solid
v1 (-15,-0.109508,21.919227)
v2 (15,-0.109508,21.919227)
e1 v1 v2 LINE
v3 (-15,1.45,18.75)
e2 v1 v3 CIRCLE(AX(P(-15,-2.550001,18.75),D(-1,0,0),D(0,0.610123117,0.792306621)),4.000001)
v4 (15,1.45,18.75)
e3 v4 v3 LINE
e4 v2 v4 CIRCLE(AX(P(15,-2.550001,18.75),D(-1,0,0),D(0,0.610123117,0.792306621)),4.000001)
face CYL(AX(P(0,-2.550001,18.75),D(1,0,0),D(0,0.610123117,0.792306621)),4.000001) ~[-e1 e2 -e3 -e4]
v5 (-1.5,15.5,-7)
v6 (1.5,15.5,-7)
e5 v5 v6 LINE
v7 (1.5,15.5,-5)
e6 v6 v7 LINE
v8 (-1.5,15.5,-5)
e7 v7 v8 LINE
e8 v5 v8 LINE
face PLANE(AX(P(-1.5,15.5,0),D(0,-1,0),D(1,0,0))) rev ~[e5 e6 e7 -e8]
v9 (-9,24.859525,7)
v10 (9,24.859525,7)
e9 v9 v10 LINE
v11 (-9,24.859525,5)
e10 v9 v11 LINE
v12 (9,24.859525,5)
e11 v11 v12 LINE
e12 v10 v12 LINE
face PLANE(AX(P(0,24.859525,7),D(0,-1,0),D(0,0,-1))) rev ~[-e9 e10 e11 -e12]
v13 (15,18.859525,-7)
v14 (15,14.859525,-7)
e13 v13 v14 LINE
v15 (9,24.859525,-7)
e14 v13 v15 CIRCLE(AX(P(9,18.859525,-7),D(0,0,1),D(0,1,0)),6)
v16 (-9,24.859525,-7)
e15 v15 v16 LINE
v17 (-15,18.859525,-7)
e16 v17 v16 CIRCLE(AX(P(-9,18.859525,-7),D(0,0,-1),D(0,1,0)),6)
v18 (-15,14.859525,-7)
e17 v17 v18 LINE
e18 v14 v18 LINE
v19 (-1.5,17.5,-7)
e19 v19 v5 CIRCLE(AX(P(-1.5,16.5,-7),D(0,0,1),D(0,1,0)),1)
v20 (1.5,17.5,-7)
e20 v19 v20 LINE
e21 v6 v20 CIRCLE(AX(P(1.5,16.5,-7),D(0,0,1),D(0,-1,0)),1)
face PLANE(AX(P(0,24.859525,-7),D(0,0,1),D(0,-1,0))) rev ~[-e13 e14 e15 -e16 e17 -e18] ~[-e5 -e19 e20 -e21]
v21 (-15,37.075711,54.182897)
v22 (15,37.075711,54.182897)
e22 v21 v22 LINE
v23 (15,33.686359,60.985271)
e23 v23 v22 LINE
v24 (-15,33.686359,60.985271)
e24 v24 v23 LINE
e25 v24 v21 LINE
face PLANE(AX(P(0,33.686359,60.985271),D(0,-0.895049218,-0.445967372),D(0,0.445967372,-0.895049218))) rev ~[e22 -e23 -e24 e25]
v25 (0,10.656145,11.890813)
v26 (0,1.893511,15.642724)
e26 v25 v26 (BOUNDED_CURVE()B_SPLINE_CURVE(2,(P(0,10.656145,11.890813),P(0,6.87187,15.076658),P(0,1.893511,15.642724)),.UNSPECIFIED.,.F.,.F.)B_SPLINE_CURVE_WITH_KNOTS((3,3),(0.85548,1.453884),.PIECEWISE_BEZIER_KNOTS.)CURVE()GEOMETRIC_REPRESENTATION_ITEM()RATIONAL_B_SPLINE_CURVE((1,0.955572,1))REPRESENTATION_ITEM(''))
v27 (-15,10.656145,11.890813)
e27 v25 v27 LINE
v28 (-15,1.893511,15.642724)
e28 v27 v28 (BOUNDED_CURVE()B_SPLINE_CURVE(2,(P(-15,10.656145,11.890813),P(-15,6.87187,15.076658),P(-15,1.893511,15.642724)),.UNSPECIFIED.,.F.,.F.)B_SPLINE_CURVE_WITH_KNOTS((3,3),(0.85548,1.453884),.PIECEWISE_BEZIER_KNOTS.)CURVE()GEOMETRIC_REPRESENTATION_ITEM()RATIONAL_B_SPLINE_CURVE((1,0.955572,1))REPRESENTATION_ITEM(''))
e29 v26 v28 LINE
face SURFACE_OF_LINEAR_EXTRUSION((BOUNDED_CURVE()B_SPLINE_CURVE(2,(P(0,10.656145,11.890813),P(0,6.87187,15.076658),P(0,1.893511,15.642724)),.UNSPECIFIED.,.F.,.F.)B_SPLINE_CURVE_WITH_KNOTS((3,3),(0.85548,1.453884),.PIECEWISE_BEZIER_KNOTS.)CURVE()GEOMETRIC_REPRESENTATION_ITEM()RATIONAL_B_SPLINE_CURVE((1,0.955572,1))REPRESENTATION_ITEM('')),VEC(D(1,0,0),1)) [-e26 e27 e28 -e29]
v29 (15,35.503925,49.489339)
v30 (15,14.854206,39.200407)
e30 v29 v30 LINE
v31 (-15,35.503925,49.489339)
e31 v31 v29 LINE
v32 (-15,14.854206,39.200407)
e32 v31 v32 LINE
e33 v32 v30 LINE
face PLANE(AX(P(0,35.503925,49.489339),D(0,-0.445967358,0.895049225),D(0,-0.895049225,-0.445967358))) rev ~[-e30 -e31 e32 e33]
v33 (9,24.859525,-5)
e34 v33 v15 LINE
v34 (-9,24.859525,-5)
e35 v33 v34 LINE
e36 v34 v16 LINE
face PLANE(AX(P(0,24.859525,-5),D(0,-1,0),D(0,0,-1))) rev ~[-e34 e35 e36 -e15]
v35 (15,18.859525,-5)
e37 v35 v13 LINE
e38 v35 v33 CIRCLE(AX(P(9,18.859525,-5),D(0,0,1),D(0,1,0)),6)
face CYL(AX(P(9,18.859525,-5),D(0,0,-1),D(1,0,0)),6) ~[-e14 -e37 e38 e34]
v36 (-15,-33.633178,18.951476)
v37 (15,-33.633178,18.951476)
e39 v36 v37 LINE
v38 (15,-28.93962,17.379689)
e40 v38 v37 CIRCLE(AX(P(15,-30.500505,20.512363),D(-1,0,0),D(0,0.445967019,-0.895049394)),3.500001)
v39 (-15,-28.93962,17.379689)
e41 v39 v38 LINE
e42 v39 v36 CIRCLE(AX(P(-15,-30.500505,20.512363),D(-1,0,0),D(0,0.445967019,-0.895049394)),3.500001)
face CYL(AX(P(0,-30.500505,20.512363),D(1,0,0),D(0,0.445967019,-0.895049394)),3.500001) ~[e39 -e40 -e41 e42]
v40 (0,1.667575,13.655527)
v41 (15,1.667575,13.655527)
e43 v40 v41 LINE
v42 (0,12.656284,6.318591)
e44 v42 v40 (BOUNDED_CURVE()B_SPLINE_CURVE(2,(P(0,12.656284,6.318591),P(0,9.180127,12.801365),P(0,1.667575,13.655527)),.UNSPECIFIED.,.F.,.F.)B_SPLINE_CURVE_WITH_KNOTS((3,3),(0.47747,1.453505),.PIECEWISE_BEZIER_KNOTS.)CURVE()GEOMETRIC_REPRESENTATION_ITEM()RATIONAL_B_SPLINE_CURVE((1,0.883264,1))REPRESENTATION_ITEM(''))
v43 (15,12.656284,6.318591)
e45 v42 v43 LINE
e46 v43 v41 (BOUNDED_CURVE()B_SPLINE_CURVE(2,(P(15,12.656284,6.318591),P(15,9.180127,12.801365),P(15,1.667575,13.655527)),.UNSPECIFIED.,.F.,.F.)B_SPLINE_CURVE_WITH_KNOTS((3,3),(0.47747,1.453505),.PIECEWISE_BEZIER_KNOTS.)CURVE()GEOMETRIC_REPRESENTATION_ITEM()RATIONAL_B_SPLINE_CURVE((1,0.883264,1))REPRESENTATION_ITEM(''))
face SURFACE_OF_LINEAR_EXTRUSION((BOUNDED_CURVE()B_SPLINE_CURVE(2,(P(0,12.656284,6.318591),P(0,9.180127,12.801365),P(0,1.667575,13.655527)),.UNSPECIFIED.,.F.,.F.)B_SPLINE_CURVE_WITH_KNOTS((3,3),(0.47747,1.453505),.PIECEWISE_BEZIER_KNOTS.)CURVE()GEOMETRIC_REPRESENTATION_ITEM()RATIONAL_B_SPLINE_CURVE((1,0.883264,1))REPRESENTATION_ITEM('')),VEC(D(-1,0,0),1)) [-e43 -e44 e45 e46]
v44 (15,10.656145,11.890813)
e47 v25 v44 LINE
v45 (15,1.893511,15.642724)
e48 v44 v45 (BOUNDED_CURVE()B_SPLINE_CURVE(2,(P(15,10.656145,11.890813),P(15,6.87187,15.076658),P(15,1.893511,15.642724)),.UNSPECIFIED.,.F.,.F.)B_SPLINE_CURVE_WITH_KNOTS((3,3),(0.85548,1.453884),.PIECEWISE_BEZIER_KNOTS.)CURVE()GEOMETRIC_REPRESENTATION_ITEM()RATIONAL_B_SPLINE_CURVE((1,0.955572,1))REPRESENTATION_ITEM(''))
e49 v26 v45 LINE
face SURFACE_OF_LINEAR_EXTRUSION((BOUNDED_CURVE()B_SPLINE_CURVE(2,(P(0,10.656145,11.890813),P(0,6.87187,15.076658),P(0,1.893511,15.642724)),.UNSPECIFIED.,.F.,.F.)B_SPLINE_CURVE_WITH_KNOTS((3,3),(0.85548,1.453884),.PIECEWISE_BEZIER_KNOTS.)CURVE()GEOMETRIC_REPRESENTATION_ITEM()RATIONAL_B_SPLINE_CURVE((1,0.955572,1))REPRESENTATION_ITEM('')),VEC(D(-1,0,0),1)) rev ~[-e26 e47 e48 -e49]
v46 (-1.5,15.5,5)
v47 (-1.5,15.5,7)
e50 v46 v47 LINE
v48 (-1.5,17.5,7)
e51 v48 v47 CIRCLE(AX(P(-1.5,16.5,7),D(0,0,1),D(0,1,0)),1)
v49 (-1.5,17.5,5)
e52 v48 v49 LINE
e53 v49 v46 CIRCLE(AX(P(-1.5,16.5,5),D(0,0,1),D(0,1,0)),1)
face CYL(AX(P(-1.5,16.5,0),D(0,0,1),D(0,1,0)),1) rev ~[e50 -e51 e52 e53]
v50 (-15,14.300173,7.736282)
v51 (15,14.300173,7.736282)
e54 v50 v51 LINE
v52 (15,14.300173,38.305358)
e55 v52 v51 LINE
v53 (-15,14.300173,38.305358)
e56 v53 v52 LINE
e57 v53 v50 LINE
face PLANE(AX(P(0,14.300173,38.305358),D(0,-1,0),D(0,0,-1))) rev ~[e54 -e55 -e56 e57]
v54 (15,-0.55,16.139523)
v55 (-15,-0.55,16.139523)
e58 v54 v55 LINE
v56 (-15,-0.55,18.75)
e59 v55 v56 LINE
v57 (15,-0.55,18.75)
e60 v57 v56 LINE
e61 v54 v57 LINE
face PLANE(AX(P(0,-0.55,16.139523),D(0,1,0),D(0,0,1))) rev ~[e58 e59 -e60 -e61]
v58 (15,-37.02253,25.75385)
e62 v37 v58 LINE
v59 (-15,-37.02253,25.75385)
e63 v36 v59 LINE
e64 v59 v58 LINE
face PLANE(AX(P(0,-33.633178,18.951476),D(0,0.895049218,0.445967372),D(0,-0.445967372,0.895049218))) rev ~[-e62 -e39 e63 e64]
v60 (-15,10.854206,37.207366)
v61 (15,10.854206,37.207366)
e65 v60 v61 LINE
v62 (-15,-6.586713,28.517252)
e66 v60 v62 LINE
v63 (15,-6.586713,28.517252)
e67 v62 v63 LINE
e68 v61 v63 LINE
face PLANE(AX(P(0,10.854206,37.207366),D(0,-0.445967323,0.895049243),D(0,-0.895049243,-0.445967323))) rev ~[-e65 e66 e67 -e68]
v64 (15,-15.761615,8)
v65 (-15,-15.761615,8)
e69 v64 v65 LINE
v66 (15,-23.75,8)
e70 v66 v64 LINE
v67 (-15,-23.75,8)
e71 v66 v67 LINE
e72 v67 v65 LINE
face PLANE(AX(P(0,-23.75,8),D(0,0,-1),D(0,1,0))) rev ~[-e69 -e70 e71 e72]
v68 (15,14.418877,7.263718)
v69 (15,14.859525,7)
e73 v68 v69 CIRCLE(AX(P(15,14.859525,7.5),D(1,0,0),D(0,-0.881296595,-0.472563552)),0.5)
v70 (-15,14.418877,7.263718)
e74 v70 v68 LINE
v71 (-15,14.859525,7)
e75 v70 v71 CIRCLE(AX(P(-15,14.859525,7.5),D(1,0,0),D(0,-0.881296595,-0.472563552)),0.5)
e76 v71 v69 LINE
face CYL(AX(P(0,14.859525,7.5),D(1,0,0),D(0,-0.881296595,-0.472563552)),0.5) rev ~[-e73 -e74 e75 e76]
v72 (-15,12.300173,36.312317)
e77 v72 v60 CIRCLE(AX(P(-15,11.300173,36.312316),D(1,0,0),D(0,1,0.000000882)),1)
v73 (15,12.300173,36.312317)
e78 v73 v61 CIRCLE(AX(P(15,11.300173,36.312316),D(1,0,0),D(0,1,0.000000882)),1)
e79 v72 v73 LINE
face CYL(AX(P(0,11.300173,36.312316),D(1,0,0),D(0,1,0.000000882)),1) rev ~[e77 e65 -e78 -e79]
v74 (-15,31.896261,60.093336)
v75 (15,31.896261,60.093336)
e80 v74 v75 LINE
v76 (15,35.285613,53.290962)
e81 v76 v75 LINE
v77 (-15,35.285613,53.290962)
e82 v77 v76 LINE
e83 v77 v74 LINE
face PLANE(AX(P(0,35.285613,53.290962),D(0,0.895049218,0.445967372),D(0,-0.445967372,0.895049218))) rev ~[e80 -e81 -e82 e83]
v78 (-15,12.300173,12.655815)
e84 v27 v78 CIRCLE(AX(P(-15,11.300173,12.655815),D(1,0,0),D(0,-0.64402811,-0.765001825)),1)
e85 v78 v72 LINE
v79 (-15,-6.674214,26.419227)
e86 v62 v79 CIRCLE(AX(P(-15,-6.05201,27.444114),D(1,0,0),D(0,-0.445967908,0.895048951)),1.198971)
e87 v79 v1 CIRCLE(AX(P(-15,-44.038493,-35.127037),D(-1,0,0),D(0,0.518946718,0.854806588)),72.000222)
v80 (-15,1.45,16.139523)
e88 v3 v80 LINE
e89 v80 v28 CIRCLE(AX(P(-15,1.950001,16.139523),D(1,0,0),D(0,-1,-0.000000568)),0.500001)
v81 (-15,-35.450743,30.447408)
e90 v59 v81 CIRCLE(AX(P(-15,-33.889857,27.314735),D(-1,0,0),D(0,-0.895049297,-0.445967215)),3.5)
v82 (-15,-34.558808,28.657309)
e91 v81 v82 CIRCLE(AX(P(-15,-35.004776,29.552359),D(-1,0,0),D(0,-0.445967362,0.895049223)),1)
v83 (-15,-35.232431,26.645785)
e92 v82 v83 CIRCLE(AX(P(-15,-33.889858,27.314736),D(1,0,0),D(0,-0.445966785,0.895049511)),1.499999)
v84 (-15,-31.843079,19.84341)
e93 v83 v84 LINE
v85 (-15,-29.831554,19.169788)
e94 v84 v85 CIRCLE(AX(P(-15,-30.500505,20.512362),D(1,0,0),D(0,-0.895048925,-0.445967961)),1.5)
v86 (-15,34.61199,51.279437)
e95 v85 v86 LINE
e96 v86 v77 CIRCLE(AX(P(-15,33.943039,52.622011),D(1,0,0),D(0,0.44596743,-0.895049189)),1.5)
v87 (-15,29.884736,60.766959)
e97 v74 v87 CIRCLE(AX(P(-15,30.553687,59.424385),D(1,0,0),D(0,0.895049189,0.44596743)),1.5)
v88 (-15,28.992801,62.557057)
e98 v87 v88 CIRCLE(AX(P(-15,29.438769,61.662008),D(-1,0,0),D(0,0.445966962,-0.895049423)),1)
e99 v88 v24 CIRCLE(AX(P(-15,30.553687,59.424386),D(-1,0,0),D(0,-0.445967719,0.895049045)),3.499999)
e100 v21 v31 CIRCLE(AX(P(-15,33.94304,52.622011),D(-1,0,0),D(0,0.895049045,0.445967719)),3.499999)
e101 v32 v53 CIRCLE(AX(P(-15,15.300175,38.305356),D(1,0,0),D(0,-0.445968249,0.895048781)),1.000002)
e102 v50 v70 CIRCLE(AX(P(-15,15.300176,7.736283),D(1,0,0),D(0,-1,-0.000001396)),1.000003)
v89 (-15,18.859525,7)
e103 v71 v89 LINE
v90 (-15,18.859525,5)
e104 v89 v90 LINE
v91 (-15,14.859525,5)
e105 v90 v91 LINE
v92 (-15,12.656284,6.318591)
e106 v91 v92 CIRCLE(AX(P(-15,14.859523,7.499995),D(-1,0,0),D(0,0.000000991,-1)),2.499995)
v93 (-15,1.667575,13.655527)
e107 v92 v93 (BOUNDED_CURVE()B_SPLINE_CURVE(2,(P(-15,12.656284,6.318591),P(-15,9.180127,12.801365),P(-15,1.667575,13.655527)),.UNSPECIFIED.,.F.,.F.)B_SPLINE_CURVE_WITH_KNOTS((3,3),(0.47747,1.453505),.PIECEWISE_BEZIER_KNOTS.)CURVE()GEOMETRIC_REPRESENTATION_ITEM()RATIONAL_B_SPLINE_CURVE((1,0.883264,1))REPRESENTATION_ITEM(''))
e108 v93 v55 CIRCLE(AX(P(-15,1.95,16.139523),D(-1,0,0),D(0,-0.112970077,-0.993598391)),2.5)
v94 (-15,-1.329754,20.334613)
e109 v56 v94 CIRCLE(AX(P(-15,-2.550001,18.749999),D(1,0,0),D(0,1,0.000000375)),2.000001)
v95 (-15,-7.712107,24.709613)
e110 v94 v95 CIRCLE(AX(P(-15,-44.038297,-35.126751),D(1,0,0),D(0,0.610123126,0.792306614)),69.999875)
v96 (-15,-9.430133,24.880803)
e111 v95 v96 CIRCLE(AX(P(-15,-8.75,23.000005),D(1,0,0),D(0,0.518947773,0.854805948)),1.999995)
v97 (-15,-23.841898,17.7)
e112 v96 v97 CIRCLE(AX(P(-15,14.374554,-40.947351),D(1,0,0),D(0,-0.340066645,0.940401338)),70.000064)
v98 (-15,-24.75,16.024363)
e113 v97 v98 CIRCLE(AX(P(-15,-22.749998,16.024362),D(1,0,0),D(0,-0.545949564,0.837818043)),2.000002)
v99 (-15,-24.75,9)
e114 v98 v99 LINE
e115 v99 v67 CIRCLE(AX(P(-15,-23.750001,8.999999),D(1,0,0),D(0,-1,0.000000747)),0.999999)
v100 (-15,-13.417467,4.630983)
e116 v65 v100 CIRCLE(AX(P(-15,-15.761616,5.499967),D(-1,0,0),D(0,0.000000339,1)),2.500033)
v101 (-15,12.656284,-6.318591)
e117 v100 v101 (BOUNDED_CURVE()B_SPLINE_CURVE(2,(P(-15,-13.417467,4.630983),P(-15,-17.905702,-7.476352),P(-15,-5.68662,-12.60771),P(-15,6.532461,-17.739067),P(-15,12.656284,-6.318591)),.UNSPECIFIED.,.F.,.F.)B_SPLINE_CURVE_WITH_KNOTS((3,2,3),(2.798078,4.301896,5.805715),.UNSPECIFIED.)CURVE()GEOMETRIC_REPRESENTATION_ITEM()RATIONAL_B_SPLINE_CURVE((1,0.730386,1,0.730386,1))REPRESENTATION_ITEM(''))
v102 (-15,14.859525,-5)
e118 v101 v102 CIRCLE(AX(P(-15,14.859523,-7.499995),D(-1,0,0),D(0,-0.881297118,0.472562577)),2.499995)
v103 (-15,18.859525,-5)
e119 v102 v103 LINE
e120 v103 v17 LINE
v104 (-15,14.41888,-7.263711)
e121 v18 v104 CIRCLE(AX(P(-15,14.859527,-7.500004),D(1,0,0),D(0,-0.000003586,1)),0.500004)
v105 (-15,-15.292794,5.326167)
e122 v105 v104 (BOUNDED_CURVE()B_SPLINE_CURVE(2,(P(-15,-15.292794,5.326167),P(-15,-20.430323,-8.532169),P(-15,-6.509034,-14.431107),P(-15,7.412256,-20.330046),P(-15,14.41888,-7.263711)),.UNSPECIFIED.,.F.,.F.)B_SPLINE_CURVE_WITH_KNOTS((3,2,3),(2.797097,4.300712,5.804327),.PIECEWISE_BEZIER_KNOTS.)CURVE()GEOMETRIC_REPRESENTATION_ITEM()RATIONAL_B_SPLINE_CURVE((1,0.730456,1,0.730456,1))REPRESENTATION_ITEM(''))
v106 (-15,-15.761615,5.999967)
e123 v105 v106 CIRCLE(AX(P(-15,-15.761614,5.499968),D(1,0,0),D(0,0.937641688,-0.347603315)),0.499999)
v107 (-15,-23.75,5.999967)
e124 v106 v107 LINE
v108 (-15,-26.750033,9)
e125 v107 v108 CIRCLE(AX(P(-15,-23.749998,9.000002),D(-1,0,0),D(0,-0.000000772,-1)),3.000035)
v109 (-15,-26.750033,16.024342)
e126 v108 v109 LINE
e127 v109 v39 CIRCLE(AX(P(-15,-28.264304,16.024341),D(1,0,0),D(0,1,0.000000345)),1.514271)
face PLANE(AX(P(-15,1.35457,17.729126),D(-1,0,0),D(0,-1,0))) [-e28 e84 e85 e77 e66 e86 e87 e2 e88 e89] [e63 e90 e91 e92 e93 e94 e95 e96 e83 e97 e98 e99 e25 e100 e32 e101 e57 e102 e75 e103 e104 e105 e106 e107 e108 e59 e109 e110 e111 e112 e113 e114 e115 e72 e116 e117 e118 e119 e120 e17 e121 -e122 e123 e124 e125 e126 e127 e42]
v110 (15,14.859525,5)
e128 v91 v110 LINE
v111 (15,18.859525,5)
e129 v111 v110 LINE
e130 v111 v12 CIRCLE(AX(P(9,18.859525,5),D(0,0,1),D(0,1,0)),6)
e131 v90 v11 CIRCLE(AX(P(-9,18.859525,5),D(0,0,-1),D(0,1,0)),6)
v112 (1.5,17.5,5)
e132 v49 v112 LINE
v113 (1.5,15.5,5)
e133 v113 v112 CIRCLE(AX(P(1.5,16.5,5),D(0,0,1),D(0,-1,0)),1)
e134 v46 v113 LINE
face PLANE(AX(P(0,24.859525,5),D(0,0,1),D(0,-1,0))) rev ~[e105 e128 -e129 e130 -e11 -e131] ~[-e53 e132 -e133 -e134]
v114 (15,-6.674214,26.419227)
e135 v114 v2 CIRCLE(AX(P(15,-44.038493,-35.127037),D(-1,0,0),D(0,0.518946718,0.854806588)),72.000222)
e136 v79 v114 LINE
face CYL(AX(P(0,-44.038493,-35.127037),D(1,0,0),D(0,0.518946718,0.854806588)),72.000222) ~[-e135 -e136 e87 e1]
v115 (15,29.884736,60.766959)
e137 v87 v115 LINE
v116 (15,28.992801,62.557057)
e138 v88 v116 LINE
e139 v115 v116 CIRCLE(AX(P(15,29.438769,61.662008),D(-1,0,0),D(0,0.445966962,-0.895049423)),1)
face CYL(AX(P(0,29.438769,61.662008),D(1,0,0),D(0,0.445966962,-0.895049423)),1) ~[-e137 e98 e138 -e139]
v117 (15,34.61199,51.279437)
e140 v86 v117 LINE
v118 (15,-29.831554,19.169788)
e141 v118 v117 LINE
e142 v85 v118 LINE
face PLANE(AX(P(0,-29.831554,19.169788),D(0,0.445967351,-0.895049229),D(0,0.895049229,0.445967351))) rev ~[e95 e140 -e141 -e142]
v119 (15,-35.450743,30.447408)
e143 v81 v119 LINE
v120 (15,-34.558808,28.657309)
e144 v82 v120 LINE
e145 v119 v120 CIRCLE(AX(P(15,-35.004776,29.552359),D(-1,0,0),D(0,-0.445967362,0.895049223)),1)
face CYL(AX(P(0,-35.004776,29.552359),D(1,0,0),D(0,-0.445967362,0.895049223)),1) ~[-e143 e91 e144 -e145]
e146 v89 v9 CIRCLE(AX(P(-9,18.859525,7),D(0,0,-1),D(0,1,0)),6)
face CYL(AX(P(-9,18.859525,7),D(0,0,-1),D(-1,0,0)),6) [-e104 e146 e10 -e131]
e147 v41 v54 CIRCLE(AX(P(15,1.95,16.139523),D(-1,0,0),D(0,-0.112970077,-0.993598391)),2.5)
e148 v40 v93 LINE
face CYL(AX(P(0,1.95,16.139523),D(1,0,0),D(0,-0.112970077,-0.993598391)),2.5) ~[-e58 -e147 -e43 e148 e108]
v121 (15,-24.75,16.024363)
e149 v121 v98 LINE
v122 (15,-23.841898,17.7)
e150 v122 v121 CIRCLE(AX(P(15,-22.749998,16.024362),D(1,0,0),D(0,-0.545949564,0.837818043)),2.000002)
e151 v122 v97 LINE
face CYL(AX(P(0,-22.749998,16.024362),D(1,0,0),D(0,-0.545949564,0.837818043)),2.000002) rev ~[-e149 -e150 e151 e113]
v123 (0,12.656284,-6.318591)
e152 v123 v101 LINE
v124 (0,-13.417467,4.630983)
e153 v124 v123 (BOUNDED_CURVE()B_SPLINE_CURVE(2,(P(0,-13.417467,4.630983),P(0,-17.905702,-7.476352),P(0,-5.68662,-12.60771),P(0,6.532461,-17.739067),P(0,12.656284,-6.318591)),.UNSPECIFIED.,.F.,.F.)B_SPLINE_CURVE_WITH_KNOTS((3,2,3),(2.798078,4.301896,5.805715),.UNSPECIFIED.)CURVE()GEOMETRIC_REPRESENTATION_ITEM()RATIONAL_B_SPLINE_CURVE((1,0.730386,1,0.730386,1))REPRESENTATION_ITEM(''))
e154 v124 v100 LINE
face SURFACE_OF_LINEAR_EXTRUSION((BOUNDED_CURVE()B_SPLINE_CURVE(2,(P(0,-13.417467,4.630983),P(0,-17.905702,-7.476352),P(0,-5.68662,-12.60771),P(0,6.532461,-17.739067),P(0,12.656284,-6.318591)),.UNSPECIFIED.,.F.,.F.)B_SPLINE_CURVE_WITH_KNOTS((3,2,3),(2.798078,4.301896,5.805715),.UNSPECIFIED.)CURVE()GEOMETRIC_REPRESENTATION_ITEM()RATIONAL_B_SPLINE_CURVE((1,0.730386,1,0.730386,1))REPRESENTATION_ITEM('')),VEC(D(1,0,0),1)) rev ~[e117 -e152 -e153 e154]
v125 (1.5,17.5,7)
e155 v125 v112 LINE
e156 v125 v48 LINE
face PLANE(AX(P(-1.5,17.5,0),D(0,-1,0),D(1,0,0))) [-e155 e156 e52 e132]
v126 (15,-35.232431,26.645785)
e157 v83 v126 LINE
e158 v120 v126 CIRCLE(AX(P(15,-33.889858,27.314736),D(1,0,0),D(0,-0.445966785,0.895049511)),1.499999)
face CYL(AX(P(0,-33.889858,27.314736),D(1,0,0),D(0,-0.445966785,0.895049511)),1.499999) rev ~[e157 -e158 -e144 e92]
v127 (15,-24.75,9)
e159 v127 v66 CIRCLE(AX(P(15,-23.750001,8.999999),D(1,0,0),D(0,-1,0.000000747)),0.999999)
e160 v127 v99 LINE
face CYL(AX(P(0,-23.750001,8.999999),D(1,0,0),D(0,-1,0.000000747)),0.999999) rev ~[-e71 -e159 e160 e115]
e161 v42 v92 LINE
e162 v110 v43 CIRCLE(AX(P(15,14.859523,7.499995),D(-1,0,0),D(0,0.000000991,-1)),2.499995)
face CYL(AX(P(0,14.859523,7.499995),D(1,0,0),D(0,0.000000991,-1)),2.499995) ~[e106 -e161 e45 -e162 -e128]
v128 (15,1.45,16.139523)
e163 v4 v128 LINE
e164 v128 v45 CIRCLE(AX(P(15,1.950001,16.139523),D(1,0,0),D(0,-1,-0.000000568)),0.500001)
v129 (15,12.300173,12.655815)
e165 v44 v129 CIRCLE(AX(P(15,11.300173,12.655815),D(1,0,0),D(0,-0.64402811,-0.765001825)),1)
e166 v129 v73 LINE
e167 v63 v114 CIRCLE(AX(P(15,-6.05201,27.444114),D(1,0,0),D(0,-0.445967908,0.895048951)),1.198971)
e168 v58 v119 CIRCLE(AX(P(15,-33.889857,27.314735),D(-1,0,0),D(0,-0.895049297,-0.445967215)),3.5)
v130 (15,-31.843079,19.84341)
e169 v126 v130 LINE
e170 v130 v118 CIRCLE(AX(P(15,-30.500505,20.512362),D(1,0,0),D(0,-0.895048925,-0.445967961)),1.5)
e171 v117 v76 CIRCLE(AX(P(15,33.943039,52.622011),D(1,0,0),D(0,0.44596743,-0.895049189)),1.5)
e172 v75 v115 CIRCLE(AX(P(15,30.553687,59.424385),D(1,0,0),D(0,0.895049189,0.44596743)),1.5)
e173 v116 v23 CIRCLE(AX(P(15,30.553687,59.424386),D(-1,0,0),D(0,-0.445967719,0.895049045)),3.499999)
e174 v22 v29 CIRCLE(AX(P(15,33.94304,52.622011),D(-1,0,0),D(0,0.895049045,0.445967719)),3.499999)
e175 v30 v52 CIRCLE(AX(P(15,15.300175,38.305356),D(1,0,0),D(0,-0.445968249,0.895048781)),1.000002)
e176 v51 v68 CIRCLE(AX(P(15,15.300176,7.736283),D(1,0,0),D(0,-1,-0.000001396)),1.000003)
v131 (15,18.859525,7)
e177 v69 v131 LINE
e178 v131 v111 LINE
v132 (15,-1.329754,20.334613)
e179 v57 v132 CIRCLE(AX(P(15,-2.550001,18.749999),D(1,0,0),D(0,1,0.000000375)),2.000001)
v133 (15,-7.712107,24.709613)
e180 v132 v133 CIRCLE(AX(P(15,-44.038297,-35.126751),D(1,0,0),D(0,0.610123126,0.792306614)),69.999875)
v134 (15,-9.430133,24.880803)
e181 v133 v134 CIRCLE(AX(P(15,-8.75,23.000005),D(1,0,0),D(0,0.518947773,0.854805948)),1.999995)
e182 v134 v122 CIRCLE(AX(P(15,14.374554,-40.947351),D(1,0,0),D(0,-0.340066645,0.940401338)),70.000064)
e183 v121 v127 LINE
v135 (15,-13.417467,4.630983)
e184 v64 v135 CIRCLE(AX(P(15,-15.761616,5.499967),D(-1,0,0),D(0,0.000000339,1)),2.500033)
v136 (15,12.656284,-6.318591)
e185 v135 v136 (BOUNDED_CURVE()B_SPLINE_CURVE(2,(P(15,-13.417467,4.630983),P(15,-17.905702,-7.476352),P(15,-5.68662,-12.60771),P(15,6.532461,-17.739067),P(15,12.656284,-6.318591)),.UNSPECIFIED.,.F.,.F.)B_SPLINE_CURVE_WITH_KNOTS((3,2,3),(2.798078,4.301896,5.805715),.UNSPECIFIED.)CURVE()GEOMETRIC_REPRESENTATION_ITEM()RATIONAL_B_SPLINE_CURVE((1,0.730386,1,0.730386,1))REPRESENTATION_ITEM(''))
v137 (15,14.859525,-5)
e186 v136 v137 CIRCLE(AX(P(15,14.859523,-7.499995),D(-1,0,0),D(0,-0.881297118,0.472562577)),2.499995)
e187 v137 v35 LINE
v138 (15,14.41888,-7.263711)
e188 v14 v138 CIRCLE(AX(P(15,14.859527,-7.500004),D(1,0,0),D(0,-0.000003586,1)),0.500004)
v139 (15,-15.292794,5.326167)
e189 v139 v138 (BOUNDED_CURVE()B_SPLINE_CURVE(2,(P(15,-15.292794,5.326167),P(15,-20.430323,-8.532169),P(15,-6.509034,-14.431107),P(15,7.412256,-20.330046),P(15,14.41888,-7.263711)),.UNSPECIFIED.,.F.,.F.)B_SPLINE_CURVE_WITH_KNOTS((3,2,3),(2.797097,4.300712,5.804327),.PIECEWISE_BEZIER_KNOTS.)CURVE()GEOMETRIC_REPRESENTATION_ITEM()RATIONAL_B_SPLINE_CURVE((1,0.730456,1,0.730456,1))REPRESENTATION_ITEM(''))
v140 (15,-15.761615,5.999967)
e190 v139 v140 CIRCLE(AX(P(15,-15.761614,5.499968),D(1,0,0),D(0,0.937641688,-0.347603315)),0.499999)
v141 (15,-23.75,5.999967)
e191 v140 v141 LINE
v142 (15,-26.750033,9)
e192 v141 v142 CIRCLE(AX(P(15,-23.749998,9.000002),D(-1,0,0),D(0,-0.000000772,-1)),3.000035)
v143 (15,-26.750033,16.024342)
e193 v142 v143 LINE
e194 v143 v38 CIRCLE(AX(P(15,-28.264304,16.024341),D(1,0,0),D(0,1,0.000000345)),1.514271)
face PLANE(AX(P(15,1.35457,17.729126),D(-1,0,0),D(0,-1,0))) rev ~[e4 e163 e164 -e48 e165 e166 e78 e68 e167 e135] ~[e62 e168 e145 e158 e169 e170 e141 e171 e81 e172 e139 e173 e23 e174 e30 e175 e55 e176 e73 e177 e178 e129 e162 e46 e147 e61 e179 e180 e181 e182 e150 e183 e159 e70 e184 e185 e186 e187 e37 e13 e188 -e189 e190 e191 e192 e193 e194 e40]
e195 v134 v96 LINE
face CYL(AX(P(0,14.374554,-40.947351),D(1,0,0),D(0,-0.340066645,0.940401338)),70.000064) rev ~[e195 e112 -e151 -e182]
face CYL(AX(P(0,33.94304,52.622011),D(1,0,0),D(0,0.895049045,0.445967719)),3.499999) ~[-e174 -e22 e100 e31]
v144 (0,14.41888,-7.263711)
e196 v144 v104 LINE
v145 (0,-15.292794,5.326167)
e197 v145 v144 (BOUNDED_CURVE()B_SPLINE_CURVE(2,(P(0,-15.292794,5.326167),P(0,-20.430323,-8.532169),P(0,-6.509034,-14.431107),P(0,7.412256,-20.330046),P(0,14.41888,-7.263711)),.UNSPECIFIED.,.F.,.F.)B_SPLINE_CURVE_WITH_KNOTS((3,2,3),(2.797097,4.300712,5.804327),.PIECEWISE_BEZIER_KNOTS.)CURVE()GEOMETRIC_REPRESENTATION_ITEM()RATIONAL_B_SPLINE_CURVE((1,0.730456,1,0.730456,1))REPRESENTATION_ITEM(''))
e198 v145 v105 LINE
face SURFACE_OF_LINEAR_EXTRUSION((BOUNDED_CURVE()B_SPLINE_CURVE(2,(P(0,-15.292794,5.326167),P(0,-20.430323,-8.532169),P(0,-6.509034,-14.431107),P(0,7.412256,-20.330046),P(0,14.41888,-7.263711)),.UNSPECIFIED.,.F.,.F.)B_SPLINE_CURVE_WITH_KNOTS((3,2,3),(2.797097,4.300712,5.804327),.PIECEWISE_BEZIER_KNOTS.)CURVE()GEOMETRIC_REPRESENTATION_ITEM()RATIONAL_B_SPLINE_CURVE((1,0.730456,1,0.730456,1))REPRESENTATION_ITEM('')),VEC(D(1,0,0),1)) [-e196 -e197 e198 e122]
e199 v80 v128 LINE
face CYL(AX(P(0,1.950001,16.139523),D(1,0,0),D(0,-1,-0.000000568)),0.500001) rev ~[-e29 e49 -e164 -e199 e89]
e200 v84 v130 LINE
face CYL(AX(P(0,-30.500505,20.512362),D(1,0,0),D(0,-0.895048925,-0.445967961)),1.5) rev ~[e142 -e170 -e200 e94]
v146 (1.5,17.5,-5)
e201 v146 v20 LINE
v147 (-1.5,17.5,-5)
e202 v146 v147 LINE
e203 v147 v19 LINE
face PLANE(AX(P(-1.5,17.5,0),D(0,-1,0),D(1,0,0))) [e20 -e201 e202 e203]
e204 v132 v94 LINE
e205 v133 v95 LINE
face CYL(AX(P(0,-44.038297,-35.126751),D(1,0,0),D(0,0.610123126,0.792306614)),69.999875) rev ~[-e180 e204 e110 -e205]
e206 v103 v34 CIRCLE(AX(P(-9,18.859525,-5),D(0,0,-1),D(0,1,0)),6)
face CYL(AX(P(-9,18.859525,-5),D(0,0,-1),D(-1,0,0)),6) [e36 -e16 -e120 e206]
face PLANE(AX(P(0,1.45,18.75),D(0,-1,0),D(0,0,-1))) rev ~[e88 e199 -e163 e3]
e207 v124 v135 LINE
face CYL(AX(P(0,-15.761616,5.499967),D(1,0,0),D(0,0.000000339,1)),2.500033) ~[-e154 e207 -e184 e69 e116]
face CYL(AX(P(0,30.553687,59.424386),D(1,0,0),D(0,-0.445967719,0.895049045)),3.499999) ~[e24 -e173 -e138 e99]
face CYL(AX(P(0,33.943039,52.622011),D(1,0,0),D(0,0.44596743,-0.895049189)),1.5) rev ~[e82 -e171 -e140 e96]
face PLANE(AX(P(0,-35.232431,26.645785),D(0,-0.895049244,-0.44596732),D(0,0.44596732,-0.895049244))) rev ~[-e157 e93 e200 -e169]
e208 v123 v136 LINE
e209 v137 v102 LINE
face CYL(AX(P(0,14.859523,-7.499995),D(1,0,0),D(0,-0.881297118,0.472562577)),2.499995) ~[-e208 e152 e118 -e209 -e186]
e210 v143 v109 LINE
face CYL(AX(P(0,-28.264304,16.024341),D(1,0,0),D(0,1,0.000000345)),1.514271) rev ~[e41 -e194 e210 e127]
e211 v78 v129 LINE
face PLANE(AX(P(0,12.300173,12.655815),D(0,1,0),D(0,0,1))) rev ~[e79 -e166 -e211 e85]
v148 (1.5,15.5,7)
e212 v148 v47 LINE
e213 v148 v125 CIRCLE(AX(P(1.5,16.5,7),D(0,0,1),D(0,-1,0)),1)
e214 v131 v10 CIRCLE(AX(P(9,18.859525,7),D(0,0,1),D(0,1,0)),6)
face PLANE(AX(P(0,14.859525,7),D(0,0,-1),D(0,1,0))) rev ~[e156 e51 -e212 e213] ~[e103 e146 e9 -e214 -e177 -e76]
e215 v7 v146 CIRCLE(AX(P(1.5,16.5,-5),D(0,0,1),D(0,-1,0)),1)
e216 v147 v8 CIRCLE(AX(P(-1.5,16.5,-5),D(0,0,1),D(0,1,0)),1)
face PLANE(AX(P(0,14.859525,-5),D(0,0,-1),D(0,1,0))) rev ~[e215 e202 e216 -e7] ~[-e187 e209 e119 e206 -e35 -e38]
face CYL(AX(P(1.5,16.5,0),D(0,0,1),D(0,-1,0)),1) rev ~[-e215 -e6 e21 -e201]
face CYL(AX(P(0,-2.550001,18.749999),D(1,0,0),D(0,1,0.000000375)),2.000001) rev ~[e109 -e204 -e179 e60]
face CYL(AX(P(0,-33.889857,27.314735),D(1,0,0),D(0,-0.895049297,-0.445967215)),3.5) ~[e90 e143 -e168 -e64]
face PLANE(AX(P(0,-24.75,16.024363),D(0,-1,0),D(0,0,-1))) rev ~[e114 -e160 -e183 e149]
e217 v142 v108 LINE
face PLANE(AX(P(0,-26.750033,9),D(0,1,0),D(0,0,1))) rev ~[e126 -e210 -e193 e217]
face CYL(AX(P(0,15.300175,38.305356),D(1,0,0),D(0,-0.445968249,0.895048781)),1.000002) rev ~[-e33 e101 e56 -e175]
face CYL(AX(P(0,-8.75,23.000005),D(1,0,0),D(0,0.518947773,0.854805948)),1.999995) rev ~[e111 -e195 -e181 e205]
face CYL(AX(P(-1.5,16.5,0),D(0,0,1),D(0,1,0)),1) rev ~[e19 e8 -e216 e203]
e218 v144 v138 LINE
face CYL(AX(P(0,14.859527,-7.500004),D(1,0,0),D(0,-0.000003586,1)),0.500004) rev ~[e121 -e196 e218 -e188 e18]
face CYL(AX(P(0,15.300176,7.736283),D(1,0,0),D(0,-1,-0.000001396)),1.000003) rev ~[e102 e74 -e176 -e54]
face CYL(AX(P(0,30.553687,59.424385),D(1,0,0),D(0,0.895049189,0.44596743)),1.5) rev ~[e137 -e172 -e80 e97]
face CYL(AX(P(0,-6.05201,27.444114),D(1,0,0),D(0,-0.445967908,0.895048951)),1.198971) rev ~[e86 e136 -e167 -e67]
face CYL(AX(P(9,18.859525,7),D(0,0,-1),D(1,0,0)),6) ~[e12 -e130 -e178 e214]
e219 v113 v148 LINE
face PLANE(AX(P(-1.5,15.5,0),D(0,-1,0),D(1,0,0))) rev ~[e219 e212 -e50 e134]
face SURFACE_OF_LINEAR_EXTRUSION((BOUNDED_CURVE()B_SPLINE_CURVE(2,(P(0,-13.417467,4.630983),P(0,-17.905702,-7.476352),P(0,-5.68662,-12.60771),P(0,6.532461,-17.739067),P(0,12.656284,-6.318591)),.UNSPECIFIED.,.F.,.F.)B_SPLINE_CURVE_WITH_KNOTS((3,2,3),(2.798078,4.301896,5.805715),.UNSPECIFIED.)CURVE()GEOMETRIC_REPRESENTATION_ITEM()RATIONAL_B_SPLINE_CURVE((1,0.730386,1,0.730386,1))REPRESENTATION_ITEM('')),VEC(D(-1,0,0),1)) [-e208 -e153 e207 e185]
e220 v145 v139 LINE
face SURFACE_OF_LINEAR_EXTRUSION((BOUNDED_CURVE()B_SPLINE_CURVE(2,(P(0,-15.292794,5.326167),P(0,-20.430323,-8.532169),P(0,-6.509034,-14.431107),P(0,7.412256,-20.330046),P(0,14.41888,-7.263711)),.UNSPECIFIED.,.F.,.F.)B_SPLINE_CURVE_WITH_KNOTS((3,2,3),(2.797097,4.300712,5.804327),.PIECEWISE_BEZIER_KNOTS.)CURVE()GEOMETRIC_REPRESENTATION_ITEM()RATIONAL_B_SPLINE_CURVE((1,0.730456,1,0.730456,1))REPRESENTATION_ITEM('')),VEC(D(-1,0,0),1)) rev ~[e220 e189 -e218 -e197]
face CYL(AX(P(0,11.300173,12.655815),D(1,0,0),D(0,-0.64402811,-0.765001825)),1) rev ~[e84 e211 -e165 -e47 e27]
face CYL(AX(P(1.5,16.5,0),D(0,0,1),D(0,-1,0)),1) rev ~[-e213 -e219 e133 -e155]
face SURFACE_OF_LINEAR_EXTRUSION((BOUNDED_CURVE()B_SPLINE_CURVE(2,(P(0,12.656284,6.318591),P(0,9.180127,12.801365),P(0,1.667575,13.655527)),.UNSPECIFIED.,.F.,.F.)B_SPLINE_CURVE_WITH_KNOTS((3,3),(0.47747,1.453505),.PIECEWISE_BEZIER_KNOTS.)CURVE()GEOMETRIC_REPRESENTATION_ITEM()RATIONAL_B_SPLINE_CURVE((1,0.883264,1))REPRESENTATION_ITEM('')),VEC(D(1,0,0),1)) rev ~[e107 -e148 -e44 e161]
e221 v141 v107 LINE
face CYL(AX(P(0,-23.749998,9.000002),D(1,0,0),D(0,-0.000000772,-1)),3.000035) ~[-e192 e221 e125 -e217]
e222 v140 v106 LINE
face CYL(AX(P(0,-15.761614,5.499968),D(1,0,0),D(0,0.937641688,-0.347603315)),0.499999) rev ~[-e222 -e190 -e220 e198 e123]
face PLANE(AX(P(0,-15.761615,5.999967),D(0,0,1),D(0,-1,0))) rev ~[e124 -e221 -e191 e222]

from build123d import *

# Parameters (mm, degrees)
PAD_DEPTH    = 15
POCKET_DEPTH = 8
FILLET_R     = 6


with BuildPart() as part:
    # Sketch → Pad (new body, symmetric)
    with BuildSketch(Plane.YZ):
        with BuildLine():
            ThreePointArc((14.859525, 5), (13.575687, 5.354828), (12.656284, 6.318591))
            add(Edge.make_bspline(
                [(12.656284, 6.318591), (9.180127, 12.801365), (1.667575, 13.655527)],
                knots=[0.47747, 0.47747, 0.47747, 1.453505, 1.453505, 1.453505], degree=2, weights=[1, 0.883264, 1]))
            ThreePointArc((1.667575, 13.655527), (0.085052, 14.4746), (-0.55, 16.139523))
            Line((-0.55, 16.139523), (-0.55, 18.75))
            ThreePointArc((-0.55, 18.75), (-0.755496, 19.633037), (-1.329754, 20.334613))
            ThreePointArc((-1.329754, 20.334613), (-4.460432, 22.61037), (-7.712107, 24.709613))
            ThreePointArc((-7.712107, 24.709613), (-8.551696, 24.990145), (-9.430133, 24.880803))
            ThreePointArc((-9.430133, 24.880803), (-16.843172, 21.706161), (-23.841898, 17.7))
            ThreePointArc((-23.841898, 17.7), (-24.508379, 16.977307), (-24.75, 16.024363))
            Line((-24.75, 16.024363), (-24.75, 9))
            ThreePointArc((-24.75, 9), (-24.457107, 8.292893), (-23.75, 8))
            Line((-23.75, 8), (-15.761615, 8))
            ThreePointArc((-15.761615, 8), (-13.709464, 6.927846), (-13.417467, 4.630983))
            add(Edge.make_bspline(
                [(-13.417467, 4.630983), (-17.905702, -7.476352), (-5.68662, -12.60771), (6.532461, -17.739067), (12.656284, -6.318591)],
                knots=[2.798078, 2.798078, 2.798078, 4.301896, 4.301896, 5.805715, 5.805715, 5.805715], degree=2, weights=[1, 0.730386, 1, 0.730386, 1]))
            ThreePointArc((12.656284, -6.318591), (13.575687, -5.354828), (14.859525, -5))
            Line((14.859525, -5), (24.859525, -5))
            Line((24.859525, -5), (24.859525, -7))
            Line((24.859525, -7), (14.859525, -7))
            ThreePointArc((14.859525, -7), (14.602761, -7.070964), (14.41888, -7.263711))
            add(Edge.make_bspline(
                [(-15.292794, 5.326167), (-20.430323, -8.532169), (-6.509034, -14.431107), (7.412256, -20.330046), (14.41888, -7.263711)],
                knots=[2.797097, 2.797097, 2.797097, 4.300712, 4.300712, 5.804327, 5.804327, 5.804327], degree=2, weights=[1, 0.730456, 1, 0.730456, 1]))
            ThreePointArc((-15.292794, 5.326167), (-15.351188, 5.785537), (-15.761615, 5.999967))
            Line((-15.761615, 5.999967), (-23.75, 5.999967))
            ThreePointArc((-23.75, 5.999967), (-25.871343, 6.878657), (-26.750033, 9))
            Line((-26.750033, 9), (-26.750033, 16.024342))
            ThreePointArc((-26.750033, 16.024342), (-27.467308, 17.311903), (-28.93962, 17.379689))
            ThreePointArc((-28.93962, 17.379689), (-31.611926, 17.193515), (-33.633178, 18.951476))
            Line((-33.633178, 18.951476), (-37.02253, 25.75385))
            ThreePointArc((-37.02253, 25.75385), (-37.208704, 28.426157), (-35.450743, 30.447408))
            ThreePointArc((-35.450743, 30.447408), (-34.109726, 29.998326), (-34.558808, 28.657309))
            ThreePointArc((-34.558808, 28.657309), (-35.31222, 27.791059), (-35.232431, 26.645785))
            Line((-35.232431, 26.645785), (-31.843079, 19.84341))
            ThreePointArc((-31.843079, 19.84341), (-30.976829, 19.089999), (-29.831554, 19.169788))
            Line((-29.831554, 19.169788), (34.61199, 51.279437))
            ThreePointArc((34.61199, 51.279437), (35.365402, 52.145688), (35.285613, 53.290962))
            Line((35.285613, 53.290962), (31.896261, 60.093336))
            ThreePointArc((31.896261, 60.093336), (31.03001, 60.846748), (29.884736, 60.766959))
            ThreePointArc((29.884736, 60.766959), (28.54372, 61.216041), (28.992801, 62.557057))
            ThreePointArc((28.992801, 62.557057), (31.665108, 62.743232), (33.686359, 60.985271))
            Line((33.686359, 60.985271), (37.075711, 54.182897))
            ThreePointArc((37.075711, 54.182897), (37.261886, 51.51059), (35.503925, 49.489339))
            Line((35.503925, 49.489339), (14.854206, 39.200407))
            ThreePointArc((14.854206, 39.200407), (14.449889, 38.831681), (14.300173, 38.305358))
            Line((14.300173, 38.305358), (14.300173, 7.736282))
            ThreePointArc((14.300173, 7.736282), (14.330303, 7.49266), (14.418877, 7.263718))
            ThreePointArc((14.418877, 7.263718), (14.602757, 7.070966), (14.859525, 7))
            Line((14.859525, 7), (24.859525, 7))
            Line((24.859525, 7), (24.859525, 5))
            Line((24.859525, 5), (14.859525, 5))
        make_face()
        with BuildLine():
            Line((1.45, 18.75), (1.45, 16.139523))
            ThreePointArc((1.45, 16.139523), (1.577009, 15.80654), (1.893511, 15.642724))
            add(Edge.make_bspline(
                [(10.656145, 11.890813), (6.87187, 15.076658), (1.893511, 15.642724)],
                knots=[0.85548, 0.85548, 0.85548, 1.453884, 1.453884, 1.453884], degree=2, weights=[1, 0.955572, 1]))
            ThreePointArc((10.656145, 11.890813), (11.722057, 11.749165), (12.300173, 12.655815))
            Line((12.300173, 12.655815), (12.300173, 36.312317))
            ThreePointArc((12.300173, 36.312317), (11.826496, 37.162601), (10.854206, 37.207366))
            Line((10.854206, 37.207366), (-6.586713, 28.517252))
            ThreePointArc((-6.586713, 28.517252), (-7.24994, 27.494075), (-6.674214, 26.419227))
            ThreePointArc((-6.674214, 26.419227), (-3.329634, 24.260005), (-0.109508, 21.919227))
            ThreePointArc((-0.109508, 21.919227), (1.039009, 20.516073), (1.45, 18.75))
        make_face(mode=Mode.SUBTRACT)
    extrude(amount=PAD_DEPTH, both=True)

    # Sketch001 → Pocket (cut, symmetric)
    with BuildSketch(Plane.XY):
        with BuildLine():
            ThreePointArc((-1.5, 17.5), (-2.5, 16.5), (-1.5, 15.5))
            Line((-1.5, 15.5), (1.5, 15.5))
            ThreePointArc((1.5, 15.5), (2.5, 16.5), (1.5, 17.5))
            Line((-1.5, 17.5), (1.5, 17.5))
        make_face()
    extrude(amount=POCKET_DEPTH, both=True, mode=Mode.SUBTRACT)

    # Fillet
    fillet_edges = [part.edges().sort_by_distance(p)[0] for p in [
        (15, 24.859525, 6),
        (15, 24.859525, -6),
        (-15, 24.859525, -6),
        (-15, 24.859525, 6),
    ]]
    fillet(fillet_edges, radius=FILLET_R)


solid = part.part
